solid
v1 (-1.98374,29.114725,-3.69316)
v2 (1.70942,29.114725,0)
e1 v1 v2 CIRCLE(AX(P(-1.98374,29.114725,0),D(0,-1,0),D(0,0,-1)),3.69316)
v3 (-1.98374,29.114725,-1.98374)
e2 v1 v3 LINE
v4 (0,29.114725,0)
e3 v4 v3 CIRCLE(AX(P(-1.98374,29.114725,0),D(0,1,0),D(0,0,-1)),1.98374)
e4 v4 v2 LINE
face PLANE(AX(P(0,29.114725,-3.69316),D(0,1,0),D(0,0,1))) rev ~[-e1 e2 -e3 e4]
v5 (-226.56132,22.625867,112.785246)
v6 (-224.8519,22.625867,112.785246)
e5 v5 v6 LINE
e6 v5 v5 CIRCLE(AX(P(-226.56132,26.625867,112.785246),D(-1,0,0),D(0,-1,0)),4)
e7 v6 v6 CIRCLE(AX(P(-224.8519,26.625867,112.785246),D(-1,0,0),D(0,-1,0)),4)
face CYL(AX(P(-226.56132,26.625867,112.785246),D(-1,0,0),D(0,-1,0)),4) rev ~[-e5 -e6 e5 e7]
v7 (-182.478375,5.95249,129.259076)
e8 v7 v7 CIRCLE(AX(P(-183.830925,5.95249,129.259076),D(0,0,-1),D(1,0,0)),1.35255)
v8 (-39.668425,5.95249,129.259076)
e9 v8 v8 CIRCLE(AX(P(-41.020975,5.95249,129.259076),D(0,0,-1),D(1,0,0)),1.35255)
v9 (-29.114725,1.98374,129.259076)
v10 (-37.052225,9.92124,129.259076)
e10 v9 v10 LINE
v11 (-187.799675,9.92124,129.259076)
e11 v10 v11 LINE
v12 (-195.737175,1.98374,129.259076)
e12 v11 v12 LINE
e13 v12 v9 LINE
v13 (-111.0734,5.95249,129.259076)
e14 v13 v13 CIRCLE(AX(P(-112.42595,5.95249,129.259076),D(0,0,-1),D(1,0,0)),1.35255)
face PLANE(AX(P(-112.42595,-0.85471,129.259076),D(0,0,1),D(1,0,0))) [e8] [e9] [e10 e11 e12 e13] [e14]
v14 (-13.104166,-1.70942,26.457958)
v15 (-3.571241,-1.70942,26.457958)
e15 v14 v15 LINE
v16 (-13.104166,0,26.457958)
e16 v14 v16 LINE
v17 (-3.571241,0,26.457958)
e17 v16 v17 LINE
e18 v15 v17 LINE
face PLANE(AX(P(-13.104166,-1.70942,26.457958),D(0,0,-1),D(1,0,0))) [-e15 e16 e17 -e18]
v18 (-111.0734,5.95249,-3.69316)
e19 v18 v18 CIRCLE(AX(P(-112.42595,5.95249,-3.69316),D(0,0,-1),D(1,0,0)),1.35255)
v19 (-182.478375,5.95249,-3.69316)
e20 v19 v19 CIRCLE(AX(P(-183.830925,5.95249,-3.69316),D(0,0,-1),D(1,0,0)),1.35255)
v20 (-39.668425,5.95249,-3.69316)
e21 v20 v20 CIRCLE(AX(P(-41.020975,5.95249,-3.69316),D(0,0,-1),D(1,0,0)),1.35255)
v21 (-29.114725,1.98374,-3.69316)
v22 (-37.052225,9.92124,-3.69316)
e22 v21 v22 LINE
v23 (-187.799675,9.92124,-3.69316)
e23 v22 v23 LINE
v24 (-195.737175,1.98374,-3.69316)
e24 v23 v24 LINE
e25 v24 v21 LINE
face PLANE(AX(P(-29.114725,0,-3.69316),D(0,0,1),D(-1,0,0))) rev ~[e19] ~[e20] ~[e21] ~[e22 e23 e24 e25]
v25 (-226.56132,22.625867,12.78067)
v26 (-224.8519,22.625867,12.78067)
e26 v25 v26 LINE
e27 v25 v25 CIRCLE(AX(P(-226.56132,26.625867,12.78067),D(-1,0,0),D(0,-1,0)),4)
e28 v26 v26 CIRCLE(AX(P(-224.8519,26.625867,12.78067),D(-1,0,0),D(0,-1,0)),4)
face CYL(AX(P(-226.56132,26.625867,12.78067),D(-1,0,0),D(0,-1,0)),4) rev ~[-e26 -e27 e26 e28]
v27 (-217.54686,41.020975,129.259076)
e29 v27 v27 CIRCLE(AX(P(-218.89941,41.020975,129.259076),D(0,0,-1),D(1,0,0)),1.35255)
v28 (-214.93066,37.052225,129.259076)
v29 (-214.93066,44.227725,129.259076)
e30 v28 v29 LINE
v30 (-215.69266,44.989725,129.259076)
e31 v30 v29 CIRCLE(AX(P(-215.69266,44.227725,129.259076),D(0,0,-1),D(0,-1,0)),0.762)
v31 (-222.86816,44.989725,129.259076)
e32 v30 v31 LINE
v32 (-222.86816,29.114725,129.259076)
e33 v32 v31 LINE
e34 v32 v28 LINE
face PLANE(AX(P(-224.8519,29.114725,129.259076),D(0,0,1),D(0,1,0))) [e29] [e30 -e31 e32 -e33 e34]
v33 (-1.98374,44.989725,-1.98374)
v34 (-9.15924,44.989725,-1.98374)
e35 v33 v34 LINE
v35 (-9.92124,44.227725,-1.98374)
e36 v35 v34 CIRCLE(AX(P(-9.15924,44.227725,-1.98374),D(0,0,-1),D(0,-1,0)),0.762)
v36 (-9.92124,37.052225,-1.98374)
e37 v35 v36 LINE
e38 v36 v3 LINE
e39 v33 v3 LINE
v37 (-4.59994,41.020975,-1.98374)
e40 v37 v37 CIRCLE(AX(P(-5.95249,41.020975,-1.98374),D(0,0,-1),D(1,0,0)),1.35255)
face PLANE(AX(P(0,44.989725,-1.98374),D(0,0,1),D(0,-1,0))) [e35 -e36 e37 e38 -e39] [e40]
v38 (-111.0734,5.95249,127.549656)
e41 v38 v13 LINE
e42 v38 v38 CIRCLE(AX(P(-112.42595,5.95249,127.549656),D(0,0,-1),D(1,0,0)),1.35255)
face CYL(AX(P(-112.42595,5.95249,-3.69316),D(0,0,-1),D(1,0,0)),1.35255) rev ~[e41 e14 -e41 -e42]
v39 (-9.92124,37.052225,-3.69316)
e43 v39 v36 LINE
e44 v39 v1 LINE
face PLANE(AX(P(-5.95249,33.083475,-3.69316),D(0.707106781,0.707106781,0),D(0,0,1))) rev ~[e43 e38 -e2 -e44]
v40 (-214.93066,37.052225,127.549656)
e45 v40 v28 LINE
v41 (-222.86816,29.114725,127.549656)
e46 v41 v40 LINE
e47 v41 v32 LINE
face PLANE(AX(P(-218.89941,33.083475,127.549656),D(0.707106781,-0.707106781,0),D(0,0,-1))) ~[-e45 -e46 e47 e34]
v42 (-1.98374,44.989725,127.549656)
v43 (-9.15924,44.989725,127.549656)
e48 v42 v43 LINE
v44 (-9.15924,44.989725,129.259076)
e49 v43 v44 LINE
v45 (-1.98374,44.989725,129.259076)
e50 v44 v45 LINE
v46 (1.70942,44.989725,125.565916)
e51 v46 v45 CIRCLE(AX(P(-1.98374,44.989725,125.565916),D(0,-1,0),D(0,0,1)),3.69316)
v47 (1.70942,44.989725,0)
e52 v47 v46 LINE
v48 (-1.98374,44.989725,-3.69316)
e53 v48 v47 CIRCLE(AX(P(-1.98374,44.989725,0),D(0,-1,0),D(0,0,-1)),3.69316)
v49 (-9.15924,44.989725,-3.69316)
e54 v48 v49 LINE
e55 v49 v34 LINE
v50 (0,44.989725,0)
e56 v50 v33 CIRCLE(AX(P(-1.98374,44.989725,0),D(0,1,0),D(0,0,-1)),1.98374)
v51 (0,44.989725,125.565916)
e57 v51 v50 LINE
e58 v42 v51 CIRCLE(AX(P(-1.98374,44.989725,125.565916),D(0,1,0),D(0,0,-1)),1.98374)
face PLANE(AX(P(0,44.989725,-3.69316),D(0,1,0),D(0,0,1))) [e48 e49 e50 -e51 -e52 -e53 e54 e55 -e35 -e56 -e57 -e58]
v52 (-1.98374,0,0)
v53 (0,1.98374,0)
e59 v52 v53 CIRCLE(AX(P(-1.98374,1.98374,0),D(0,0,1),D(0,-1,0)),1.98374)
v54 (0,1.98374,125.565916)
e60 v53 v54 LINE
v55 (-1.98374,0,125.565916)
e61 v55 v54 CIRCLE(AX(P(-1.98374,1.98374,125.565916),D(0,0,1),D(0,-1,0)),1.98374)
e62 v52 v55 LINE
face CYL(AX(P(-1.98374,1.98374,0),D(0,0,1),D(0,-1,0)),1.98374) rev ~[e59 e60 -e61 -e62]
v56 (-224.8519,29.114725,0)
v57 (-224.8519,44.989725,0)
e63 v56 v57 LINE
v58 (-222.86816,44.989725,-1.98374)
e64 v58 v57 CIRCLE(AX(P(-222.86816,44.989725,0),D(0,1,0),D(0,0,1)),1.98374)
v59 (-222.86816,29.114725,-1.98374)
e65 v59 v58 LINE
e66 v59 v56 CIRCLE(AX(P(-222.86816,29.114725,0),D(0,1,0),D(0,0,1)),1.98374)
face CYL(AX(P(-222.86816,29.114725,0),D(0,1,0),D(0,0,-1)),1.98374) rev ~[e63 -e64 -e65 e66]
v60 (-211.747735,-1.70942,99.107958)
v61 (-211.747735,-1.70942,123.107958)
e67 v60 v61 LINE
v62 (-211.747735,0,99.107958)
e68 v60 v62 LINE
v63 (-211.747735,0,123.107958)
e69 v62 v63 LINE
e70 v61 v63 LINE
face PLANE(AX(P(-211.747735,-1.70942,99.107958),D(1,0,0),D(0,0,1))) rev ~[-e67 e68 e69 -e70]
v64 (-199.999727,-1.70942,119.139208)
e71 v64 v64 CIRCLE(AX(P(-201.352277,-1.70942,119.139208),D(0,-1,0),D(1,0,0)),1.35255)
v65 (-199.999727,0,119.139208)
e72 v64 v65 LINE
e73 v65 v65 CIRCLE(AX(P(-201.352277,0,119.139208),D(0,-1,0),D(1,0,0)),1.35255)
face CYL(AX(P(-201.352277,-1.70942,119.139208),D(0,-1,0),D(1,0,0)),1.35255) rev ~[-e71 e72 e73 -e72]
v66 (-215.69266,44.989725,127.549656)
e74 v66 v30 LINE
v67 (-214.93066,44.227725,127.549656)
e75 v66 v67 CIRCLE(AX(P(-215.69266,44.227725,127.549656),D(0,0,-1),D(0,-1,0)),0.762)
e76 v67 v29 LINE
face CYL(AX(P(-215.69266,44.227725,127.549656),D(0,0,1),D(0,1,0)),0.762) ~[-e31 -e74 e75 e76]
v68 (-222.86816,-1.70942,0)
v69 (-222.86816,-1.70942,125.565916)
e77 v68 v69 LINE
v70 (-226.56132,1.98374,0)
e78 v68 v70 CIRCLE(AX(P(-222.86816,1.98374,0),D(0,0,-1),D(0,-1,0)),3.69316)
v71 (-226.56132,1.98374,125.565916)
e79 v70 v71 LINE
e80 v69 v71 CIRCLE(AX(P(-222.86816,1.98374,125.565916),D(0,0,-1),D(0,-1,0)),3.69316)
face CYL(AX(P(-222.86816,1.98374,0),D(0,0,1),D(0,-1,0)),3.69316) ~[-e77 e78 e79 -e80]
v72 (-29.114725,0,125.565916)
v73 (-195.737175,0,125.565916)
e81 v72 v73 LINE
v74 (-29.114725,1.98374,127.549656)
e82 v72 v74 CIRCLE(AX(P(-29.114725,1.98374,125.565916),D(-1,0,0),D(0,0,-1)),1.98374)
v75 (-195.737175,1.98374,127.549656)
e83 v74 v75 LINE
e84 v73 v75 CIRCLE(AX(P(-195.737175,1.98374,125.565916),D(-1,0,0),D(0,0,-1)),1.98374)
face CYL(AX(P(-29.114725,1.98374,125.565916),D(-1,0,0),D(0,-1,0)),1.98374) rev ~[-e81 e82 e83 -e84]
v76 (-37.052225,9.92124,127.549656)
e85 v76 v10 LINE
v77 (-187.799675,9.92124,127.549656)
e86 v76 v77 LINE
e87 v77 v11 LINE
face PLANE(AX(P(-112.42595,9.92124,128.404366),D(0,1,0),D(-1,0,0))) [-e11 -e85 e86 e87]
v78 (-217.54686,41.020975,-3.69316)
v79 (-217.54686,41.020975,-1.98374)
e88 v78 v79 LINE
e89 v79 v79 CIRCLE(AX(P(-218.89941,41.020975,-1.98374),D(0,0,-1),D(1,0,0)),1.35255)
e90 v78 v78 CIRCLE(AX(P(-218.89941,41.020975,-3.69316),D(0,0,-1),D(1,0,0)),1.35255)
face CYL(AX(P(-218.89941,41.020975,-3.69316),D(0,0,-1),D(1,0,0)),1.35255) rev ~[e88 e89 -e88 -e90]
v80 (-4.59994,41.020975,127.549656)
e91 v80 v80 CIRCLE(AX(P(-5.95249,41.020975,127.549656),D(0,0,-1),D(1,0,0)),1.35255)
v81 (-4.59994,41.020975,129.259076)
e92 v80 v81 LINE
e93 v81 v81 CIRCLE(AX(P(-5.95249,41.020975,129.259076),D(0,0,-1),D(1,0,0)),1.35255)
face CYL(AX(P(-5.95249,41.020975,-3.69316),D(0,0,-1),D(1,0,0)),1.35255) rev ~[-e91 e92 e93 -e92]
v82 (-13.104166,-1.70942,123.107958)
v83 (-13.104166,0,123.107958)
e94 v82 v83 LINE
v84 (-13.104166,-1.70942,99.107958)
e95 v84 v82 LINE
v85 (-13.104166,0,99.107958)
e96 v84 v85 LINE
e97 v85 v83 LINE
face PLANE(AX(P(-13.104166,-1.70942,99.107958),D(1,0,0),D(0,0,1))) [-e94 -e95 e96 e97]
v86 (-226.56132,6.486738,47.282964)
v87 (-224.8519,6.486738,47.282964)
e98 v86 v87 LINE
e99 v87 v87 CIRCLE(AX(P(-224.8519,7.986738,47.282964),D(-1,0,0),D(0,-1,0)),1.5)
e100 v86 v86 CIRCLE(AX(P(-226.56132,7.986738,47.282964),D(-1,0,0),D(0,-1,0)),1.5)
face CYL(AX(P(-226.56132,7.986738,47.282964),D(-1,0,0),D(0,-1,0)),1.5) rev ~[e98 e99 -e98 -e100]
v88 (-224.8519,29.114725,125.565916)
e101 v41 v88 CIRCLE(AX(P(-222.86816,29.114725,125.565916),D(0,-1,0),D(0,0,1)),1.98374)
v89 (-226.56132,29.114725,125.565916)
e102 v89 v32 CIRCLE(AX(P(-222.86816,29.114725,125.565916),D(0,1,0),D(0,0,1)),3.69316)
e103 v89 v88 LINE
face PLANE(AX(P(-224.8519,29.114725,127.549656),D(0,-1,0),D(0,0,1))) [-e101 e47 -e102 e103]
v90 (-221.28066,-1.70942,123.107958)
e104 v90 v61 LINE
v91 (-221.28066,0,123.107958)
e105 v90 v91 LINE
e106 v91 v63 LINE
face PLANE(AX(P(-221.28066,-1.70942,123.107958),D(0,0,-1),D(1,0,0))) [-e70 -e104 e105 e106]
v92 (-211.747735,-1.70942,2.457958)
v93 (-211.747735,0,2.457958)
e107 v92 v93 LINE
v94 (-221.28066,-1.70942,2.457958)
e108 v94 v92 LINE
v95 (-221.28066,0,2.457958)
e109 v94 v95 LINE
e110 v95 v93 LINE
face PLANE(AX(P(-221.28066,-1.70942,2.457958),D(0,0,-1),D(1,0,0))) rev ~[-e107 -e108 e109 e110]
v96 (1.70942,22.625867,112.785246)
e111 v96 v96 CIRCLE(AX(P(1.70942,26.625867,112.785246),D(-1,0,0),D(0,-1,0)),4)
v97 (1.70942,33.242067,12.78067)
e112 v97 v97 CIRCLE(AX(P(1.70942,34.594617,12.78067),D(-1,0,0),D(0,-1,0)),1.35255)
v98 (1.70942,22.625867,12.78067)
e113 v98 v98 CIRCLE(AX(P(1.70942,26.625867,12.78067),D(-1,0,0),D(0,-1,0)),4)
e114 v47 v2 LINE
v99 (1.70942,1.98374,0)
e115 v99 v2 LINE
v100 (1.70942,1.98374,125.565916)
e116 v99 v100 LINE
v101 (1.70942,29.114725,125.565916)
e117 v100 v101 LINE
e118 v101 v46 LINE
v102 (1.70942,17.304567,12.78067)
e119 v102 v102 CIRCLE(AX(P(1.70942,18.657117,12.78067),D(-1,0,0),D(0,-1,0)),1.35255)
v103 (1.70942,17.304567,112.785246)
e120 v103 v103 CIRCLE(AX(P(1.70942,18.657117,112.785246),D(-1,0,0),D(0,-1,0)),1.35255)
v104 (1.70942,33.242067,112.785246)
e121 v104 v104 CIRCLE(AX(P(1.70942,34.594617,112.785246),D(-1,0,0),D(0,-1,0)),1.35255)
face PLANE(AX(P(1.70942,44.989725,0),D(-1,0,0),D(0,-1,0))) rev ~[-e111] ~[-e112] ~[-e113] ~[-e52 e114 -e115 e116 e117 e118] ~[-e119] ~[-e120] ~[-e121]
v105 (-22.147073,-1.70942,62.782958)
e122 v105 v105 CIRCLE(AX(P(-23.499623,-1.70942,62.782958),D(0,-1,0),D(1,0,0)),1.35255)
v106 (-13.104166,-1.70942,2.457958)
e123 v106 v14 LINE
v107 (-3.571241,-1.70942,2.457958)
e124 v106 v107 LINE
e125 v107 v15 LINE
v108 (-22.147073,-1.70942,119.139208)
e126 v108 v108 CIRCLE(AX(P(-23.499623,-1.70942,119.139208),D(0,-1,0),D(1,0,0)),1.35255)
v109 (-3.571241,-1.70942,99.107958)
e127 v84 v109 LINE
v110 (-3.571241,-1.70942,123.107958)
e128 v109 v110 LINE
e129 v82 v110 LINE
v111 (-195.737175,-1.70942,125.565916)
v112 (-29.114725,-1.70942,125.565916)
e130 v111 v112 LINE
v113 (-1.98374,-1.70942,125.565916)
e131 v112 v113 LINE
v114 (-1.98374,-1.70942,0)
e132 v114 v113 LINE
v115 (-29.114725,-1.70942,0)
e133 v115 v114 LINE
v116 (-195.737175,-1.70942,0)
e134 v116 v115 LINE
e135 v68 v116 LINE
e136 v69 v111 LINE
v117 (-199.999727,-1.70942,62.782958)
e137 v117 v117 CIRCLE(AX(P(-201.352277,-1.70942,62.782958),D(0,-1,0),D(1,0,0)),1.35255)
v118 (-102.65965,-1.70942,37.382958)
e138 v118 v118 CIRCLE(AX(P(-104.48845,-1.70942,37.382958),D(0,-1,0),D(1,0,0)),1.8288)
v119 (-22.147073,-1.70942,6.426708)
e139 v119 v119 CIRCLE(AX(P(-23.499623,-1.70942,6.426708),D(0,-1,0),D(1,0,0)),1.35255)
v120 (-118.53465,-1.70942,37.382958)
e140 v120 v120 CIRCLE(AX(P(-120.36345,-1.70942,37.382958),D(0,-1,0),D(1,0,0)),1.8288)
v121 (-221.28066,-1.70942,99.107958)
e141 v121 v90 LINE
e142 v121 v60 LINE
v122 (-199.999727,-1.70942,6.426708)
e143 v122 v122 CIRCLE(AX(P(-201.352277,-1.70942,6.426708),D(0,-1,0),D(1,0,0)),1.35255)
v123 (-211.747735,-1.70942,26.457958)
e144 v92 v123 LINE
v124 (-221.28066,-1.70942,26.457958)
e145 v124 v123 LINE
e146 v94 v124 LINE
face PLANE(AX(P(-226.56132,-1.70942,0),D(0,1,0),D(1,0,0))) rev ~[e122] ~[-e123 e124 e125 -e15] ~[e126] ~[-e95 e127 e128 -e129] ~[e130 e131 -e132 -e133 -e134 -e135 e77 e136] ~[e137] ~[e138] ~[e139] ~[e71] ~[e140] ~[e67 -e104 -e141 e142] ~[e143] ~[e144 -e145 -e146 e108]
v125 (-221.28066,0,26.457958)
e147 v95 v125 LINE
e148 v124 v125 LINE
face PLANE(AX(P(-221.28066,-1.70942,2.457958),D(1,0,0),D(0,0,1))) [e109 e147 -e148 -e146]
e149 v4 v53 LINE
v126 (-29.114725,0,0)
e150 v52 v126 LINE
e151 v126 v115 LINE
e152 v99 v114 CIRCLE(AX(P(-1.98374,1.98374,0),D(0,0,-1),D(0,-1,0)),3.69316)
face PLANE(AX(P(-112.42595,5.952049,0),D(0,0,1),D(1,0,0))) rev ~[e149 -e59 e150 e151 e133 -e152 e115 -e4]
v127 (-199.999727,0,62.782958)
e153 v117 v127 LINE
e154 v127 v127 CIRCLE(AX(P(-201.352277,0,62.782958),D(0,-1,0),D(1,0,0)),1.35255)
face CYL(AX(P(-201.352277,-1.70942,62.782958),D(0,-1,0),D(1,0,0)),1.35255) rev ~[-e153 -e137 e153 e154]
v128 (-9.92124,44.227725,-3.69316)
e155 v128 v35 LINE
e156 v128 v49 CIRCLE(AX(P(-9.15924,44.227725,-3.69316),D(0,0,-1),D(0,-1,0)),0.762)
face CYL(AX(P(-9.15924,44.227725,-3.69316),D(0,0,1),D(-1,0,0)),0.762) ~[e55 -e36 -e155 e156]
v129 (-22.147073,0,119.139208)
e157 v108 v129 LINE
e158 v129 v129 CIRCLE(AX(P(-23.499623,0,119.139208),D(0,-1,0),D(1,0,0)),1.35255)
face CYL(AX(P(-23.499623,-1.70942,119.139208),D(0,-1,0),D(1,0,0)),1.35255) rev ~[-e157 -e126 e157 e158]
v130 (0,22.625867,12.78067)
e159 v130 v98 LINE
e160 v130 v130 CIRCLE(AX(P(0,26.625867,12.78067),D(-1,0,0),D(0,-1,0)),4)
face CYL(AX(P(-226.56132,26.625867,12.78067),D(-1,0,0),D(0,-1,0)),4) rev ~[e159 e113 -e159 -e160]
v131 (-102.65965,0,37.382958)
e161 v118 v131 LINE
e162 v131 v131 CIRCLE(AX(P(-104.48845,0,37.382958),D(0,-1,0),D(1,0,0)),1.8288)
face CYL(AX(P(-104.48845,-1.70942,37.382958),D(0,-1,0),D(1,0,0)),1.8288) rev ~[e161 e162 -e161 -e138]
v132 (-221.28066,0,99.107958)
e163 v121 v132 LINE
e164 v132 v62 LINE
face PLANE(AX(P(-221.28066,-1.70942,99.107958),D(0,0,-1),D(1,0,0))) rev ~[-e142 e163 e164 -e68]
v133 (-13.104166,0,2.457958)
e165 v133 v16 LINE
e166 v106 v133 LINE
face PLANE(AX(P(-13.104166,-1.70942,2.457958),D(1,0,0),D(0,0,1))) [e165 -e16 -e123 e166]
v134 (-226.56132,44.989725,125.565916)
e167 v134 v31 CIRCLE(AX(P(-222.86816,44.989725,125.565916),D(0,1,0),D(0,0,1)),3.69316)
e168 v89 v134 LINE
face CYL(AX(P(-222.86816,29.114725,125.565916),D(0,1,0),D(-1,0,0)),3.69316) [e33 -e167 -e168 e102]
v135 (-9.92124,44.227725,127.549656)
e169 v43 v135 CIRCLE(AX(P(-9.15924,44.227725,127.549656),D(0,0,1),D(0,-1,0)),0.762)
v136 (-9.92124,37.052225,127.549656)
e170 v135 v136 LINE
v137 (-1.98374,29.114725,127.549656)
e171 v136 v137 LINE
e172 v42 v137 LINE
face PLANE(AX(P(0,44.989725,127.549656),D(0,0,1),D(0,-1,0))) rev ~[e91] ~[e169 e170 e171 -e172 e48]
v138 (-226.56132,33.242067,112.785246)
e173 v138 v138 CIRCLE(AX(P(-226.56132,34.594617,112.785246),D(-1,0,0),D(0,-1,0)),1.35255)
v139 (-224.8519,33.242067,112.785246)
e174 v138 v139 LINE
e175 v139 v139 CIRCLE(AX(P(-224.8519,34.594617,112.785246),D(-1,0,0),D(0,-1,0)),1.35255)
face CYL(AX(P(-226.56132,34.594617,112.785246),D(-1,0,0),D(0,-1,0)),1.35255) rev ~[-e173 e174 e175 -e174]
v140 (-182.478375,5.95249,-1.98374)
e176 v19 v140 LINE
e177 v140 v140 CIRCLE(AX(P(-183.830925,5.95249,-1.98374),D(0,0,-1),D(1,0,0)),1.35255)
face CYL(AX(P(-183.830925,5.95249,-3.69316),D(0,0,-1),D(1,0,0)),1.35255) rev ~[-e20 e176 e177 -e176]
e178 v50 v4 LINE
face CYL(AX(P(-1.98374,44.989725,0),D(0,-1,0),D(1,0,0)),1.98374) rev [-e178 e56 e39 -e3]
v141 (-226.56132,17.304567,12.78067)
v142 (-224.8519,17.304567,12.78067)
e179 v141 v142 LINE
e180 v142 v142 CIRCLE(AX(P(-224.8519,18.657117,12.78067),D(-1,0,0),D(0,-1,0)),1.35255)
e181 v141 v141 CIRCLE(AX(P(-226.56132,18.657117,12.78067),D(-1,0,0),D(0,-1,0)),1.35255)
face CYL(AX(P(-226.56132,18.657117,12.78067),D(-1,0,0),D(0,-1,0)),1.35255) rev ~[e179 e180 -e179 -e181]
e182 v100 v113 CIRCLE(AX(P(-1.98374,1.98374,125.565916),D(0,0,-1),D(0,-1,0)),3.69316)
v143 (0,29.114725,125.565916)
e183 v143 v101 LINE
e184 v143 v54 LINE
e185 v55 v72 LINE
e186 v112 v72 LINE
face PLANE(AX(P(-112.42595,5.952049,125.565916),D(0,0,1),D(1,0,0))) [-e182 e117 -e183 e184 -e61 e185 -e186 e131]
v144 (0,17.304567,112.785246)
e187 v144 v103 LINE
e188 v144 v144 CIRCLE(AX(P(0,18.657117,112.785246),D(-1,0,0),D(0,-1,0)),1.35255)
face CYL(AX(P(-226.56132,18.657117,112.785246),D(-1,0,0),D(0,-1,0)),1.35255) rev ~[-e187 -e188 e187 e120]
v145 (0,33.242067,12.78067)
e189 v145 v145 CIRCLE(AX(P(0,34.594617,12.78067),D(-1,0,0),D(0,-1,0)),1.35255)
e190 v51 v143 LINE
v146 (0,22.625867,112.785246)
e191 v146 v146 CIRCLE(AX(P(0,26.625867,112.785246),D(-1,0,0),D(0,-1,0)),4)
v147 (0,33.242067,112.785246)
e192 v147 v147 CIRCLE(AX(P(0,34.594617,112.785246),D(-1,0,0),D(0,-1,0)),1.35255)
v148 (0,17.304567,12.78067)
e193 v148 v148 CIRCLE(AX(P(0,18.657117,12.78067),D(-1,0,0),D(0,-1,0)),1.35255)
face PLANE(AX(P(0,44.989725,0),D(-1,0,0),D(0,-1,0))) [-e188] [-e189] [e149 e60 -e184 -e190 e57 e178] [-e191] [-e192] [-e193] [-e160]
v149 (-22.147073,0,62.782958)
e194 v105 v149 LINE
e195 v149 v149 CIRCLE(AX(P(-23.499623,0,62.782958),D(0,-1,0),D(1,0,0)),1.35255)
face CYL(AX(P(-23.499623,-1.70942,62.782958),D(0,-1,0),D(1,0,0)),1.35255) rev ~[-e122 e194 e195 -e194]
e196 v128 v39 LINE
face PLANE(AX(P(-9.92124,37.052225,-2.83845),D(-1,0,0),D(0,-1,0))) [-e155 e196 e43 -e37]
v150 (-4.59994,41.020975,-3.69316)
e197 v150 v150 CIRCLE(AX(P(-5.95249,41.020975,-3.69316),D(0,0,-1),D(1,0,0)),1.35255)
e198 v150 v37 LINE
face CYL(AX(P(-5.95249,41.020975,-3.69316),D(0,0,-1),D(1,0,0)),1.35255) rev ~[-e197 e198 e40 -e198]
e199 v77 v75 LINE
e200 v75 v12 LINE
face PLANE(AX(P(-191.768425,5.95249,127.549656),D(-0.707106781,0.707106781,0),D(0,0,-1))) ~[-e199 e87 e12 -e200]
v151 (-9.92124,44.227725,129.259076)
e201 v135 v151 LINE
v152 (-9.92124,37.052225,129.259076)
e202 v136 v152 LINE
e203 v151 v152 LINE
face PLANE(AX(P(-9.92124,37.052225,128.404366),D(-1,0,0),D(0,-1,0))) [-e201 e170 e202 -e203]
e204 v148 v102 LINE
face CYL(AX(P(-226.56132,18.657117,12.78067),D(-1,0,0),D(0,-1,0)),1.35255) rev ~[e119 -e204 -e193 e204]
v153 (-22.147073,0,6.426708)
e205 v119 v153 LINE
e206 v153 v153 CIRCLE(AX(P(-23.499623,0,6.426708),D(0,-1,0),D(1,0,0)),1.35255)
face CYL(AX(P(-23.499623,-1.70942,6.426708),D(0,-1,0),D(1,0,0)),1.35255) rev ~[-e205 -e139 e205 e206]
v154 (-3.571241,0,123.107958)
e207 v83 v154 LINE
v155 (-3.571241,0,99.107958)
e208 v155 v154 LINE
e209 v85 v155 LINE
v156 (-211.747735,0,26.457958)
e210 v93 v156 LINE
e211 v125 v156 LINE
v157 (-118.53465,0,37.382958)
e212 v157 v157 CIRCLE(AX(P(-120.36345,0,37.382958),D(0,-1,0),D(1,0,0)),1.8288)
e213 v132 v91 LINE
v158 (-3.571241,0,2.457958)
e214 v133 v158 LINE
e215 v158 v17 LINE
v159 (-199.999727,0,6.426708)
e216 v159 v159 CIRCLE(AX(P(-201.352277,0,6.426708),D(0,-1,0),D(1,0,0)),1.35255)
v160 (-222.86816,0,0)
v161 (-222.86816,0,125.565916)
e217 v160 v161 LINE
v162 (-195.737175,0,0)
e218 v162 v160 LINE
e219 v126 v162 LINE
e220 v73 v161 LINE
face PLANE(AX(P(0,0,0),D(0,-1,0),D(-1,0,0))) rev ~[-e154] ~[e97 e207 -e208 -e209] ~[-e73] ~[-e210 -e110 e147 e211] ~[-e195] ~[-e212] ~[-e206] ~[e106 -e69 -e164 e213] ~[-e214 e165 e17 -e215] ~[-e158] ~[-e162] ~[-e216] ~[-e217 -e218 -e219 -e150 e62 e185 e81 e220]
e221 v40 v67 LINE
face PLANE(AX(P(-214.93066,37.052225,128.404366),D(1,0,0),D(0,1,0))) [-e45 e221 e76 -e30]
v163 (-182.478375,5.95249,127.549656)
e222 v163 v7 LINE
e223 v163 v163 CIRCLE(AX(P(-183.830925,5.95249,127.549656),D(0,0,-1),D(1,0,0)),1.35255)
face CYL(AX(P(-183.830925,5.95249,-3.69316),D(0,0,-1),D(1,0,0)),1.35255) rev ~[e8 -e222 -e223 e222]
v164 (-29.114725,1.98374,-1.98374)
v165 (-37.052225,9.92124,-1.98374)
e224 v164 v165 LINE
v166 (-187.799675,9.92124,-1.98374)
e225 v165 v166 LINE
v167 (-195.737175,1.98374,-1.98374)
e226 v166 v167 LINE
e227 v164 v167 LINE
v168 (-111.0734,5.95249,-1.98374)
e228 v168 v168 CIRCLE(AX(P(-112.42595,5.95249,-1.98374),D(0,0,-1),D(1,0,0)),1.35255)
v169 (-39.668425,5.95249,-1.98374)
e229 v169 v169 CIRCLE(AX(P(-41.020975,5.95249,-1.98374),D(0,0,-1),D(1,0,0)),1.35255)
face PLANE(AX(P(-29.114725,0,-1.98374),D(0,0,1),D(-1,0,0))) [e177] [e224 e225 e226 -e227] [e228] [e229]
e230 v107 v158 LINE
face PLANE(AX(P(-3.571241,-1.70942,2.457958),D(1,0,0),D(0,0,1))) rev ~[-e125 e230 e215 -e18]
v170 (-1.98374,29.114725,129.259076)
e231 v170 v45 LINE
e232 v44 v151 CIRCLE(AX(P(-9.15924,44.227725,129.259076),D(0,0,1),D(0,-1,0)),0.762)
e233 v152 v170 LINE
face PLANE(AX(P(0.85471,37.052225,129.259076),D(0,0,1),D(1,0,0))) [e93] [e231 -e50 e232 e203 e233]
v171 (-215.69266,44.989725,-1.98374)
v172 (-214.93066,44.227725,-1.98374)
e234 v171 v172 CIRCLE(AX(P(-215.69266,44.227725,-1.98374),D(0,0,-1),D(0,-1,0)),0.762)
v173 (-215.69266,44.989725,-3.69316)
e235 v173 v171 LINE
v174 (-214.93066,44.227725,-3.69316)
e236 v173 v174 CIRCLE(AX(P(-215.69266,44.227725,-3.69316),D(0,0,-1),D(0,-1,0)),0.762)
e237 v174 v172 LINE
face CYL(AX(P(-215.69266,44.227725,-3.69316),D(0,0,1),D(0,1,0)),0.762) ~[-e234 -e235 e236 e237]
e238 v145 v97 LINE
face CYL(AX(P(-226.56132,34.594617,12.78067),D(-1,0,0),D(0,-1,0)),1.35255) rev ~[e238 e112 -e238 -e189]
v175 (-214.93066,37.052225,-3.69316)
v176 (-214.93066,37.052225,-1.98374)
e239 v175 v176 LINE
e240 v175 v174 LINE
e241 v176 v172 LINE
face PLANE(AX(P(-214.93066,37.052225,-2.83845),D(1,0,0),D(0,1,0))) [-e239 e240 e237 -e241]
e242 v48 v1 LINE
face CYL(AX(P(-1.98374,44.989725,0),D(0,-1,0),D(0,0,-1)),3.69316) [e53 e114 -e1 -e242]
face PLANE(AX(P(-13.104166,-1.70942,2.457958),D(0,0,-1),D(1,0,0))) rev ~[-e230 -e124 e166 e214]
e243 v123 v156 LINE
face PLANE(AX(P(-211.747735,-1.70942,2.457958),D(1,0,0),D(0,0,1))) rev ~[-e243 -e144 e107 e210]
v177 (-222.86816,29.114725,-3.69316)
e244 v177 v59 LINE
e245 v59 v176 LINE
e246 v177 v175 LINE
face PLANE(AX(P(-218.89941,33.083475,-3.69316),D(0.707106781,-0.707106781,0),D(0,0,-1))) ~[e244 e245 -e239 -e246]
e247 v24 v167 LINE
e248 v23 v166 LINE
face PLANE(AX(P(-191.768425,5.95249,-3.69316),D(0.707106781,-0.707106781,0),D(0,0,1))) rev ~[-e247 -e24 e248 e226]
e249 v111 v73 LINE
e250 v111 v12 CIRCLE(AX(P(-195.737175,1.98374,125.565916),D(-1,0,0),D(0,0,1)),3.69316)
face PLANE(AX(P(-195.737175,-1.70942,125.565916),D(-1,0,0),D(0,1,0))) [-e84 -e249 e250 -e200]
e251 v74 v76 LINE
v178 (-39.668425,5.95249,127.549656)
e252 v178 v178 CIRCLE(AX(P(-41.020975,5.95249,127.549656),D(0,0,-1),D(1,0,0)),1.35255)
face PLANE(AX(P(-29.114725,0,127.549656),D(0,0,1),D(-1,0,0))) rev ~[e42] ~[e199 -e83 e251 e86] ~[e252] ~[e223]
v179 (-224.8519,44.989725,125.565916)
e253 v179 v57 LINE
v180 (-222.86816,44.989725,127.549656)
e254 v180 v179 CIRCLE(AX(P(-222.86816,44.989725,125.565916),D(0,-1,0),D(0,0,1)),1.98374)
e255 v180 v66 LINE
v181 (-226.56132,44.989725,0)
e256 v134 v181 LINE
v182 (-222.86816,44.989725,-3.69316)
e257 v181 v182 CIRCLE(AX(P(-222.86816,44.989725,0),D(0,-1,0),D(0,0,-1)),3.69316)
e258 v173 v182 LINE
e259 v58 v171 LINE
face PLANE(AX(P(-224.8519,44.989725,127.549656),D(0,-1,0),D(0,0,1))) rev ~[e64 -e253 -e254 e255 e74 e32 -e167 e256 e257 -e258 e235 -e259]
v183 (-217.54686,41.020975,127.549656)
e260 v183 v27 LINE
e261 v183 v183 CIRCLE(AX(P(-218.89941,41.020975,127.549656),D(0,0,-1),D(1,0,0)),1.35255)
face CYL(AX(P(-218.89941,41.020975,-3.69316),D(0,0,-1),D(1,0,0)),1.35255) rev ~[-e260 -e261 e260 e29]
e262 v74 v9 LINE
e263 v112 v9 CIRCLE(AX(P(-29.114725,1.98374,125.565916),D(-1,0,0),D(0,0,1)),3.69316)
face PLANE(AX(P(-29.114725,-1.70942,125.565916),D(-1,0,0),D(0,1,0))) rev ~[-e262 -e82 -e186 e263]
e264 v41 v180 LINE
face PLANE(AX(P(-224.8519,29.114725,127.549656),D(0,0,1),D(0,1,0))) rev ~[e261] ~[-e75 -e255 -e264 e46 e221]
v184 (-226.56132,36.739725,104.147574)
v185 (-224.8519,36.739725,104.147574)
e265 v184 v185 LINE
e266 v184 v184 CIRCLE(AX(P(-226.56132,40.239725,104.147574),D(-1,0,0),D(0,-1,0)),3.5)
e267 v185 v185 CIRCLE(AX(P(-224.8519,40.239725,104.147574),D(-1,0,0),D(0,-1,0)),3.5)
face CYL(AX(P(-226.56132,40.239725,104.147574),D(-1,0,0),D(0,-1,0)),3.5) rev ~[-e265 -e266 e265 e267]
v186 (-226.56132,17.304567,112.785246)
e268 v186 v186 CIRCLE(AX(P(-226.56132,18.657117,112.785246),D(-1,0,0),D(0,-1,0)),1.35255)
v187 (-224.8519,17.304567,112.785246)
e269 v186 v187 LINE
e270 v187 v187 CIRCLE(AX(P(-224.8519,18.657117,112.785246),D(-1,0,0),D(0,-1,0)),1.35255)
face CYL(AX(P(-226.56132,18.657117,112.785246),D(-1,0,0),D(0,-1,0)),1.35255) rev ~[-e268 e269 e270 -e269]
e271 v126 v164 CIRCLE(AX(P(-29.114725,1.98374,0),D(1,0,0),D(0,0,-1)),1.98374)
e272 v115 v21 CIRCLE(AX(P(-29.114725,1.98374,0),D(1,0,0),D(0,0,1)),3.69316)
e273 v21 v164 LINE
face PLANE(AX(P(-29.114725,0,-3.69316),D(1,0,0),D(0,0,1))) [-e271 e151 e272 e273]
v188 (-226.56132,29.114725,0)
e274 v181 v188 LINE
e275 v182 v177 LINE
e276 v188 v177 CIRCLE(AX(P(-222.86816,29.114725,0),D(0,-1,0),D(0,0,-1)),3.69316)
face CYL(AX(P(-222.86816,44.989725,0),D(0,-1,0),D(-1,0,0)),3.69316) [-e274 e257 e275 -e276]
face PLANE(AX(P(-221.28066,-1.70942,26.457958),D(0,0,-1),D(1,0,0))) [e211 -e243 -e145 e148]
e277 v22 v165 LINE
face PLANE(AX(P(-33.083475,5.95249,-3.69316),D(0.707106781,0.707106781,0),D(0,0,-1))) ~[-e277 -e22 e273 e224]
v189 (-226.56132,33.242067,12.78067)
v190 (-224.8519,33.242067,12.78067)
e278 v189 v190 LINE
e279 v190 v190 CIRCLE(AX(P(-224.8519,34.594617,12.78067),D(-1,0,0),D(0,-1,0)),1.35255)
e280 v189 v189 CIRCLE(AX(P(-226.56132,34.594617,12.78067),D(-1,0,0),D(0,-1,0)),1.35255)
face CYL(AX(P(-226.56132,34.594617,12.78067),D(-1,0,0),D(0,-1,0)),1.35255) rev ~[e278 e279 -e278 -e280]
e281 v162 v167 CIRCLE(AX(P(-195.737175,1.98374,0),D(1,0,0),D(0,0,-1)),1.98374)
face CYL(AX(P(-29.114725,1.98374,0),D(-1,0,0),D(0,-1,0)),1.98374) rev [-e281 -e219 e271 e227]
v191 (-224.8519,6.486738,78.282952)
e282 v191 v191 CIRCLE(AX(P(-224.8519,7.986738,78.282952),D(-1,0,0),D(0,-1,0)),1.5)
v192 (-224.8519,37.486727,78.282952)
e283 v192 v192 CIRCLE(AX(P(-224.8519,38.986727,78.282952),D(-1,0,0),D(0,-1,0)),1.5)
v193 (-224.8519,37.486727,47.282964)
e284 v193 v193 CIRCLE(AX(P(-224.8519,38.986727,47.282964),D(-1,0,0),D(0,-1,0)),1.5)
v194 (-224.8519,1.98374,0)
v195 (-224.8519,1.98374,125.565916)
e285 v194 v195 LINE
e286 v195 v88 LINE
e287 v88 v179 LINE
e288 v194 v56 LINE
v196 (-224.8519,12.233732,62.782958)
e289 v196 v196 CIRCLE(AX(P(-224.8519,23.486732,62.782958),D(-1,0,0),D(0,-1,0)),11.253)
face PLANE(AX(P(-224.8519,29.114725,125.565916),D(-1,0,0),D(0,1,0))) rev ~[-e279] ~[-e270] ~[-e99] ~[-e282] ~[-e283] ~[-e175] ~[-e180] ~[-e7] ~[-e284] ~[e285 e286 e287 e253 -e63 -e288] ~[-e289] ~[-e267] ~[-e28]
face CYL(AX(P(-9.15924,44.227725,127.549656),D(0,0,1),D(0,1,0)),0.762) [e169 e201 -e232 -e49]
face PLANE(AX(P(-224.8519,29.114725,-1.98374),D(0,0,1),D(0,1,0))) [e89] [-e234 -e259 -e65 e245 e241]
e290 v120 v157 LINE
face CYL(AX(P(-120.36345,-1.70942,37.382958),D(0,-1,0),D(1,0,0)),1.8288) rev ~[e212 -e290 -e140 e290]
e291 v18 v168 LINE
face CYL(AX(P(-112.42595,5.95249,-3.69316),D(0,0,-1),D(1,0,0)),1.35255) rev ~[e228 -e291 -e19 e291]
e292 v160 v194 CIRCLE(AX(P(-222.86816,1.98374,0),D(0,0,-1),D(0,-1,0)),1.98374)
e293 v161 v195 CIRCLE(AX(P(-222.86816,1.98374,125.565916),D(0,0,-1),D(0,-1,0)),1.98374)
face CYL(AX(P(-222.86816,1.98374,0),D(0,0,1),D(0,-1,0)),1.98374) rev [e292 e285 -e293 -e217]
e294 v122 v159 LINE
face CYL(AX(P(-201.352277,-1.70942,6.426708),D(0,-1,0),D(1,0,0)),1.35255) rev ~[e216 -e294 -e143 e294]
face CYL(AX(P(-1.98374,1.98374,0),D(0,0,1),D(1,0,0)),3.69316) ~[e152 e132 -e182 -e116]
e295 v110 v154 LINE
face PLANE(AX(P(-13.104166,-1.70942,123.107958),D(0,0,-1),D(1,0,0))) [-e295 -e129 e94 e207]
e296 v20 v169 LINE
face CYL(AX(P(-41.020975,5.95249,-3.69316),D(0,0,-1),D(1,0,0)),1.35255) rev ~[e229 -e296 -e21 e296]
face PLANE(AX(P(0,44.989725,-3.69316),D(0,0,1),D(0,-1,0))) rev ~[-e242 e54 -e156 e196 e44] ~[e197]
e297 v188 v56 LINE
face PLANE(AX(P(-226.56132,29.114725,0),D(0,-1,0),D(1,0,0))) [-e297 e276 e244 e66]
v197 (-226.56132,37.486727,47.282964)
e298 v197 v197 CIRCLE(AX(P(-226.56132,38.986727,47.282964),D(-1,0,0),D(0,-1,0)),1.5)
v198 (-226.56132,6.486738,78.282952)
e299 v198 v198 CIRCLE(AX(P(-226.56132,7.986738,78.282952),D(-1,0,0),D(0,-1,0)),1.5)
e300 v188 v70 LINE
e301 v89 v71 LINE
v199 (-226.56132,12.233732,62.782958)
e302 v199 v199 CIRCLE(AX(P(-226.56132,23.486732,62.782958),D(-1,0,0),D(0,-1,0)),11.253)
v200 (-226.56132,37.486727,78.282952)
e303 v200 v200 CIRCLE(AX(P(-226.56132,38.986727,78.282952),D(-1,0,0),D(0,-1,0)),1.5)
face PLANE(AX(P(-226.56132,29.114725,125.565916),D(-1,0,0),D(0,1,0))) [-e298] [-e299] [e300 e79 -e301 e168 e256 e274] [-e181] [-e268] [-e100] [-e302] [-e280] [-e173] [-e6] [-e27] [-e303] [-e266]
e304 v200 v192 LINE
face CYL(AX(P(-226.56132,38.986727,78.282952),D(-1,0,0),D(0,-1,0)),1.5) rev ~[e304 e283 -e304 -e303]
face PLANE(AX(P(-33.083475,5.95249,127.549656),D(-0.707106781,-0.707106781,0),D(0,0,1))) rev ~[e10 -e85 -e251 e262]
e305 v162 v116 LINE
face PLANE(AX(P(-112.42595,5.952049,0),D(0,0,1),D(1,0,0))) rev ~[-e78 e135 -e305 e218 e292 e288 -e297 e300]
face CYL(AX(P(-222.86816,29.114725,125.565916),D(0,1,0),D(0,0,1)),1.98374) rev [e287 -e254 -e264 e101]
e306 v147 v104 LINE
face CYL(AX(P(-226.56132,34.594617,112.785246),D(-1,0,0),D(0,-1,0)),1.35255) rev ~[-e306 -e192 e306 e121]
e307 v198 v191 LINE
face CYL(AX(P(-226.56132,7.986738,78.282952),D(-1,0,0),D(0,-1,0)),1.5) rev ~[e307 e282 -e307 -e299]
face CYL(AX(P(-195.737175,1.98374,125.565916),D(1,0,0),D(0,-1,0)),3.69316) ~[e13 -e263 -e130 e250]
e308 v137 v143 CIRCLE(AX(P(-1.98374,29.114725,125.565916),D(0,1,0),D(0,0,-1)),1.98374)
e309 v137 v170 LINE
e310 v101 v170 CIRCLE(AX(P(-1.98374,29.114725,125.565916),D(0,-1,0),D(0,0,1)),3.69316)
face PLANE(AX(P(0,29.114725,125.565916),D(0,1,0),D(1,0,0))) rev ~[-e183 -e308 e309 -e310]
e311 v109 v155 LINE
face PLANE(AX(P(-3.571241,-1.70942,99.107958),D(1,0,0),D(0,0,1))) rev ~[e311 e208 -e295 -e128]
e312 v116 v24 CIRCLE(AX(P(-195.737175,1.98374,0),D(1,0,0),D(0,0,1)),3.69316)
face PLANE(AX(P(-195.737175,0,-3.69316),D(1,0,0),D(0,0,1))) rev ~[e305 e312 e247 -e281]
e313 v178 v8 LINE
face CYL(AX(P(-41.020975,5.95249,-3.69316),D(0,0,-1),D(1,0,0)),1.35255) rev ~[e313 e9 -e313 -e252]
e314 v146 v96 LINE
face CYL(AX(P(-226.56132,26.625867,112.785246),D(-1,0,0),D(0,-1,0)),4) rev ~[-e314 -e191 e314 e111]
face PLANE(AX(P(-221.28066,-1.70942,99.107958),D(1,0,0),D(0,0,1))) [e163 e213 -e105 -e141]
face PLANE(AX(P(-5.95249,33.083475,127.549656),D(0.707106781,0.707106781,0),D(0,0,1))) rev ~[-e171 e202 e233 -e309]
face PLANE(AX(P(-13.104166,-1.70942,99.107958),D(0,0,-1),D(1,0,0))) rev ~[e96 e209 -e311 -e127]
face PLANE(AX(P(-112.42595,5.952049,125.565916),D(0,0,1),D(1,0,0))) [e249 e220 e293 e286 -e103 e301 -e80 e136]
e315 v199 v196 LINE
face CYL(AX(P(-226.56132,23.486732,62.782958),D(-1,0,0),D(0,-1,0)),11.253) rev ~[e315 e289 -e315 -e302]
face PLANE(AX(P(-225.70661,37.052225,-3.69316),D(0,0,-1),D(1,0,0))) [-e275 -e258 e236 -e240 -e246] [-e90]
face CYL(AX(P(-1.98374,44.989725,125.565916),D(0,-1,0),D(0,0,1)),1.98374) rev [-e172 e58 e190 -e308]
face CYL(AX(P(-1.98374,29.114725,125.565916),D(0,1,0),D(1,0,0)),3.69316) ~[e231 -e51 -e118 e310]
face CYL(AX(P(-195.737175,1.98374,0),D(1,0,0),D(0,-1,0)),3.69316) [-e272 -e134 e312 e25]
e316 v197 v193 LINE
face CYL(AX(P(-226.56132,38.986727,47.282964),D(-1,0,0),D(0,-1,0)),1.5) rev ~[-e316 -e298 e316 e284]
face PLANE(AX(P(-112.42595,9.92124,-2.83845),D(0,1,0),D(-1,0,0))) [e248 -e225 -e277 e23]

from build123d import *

# Parameters (mm, degrees)
F1_DEPTH  = 125.565916
F2_W      = 1.70942
F2_H      = 15.875
F2_W_2    = 166.62245
F2_H_2    = 1.70942
F3_DEPTH  = 3.69316
F4_W      = 1.70942
F4_H      = 15.875
F4_W_2    = 166.62245
F4_H_2    = 1.70942
F5_DEPTH  = 3.69316
F6_W      = 166.62245
F6_H      = 1.70942
F7_DEPTH  = 9.92124
F8_W      = 15.875
F8_H      = 1.70942
F9_DEPTH  = 9.92124
F10_W     = 15.875
F10_H     = 1.70942
F11_DEPTH = 9.92124
F12_R     = 1.98374
F13_R     = 3.69316
F14_SIZE  = 7.9375
F15_R     = 1.35255
F16_DEPTH = 132.952236
F17_W     = 9.532925
F17_H     = 24
F17_R     = 1.35255
F17_R_2   = 1.8288
F18_DEPTH = 1.70942
F19_R     = 1.35255
F19_R_2   = 4
F20_DEPTH = 228.27074
F21_R     = 0.762
F22_R     = 11.253
F22_R_2   = 1.5
F22_R_3   = 3.5
F23_DEPTH = 1.70942


with BuildPart() as f1:
    # F0 (on Top) → F1 (new body)
    with BuildSketch(Plane.XY):
        Polygon((0, 44.989725), (0, 0), (-224.8519, 0), (-224.8519, 44.989725), (-226.56132, 44.989725), (-226.56132, -1.70942), (1.70942, -1.70942), (1.70942, 44.989725), align=None)
    extrude(amount=F1_DEPTH)

    # F2 (on face) → F3 (join)
    with BuildSketch(Plane(origin=(0, 0, 0), x_dir=(1, 0, 0), z_dir=(0, 0, -1))):
        with Locations((0.85471, -37.052225)):
            Rectangle(F2_W, F2_H)
        with Locations((-112.42595, 0.85471)):
            Rectangle(F2_W_2, F2_H_2)
        with Locations((-225.70661, -37.052225)):
            Rectangle(F2_W, F2_H)
    extrude(amount=F3_DEPTH)

    # F4 (on face) → F5 (join)
    with BuildSketch(Plane.XY.offset(125.565916)):
        with Locations((-225.70661, 37.052225)):
            Rectangle(F4_W, F4_H)
        with Locations((0.85471, 37.052225)):
            Rectangle(F4_W, F4_H)
        with Locations((-112.42595, -0.85471)):
            Rectangle(F4_W_2, F4_H_2)
    extrude(amount=F5_DEPTH)

    # F6 (on face) → F7 (join)
    with BuildSketch(Plane(origin=(0, 0, 0), x_dir=(-1, 0, 0), z_dir=(0, 1, 0))):
        with Locations((112.42595, -2.83845)):
            Rectangle(F6_W, F6_H)
        with Locations((112.42595, 128.404366)):
            Rectangle(F6_W, F6_H)
    extrude(amount=F7_DEPTH)

    # F8 (on face) → F9 (join)
    with BuildSketch(Plane.YZ.offset(-224.8519)):
        with Locations((37.052225, 128.404366)):
            Rectangle(F8_W, F8_H)
        with Locations((37.052225, -2.83845)):
            Rectangle(F8_W, F8_H)
    extrude(amount=F9_DEPTH)

    # F10 (on face) → F11 (join)
    with BuildSketch(Plane(origin=(0, 0, 0), x_dir=(0, -1, 0), z_dir=(-1, 0, 0))):
        with Locations((-37.052225, -2.83845)):
            Rectangle(F10_W, F10_H)
        with Locations((-37.052225, 128.404366)):
            Rectangle(F10_W, F10_H)
    extrude(amount=F11_DEPTH)

    # F12
    f12_edges = [f1.edges().sort_by_distance(p)[0] for p in [
        (0, 37.052225, 127.549656),
        (-112.42595, 0, 127.549656),
        (-224.8519, 37.052225, 127.549656),
        (-224.8519, 37.052225, -1.98374),
        (-112.42595, 0, -1.98374),
        (0, 37.052225, -1.98374),
        (0, 0, 62.782958),
        (-224.8519, 0, 62.782958),
    ]]
    fillet(f12_edges, radius=F12_R)

    # F13
    f13_edges = [f1.edges().sort_by_distance(p)[0] for p in [
        (-226.56132, 37.052225, -3.69316),
        (-112.42595, -1.70942, -3.69316),
        (-226.56132, -1.70942, 62.782958),
        (-112.42595, -1.70942, 129.259076),
        (-226.56132, 37.052225, 129.259076),
        (1.70942, 37.052225, -3.69316),
        (1.70942, -1.70942, 62.782958),
        (1.70942, 37.052225, 129.259076),
    ]]
    fillet(f13_edges, radius=F13_R)

    # F14
    f14_edges = [f1.edges().sort_by_distance(p)[0] for p in [
        (-214.93066, 29.114725, 128.404366),
        (-195.737175, 9.92124, 128.404366),
        (-29.114725, 9.92124, 128.404366),
        (-9.92124, 29.114725, 128.404366),
        (-29.114725, 9.92124, -2.83845),
        (-9.92124, 29.114725, -2.83845),
        (-214.93066, 29.114725, -2.83845),
        (-195.737175, 9.92124, -2.83845),
    ]]
    chamfer(f14_edges, length=F14_SIZE)

    # F15 (on face) → F16 (cut, through all)
    with BuildSketch(Plane(origin=(0, 0, -3.69316), x_dir=(1, 0, 0), z_dir=(0, 0, -1))):
        with Locations((-41.020975, -5.95249)):
            Circle(F15_R)
        with Locations((-112.42595, -5.95249)):
            Circle(F15_R)
        with Locations((-183.830925, -5.95249)):
            Circle(F15_R)
        with Locations((-218.89941, -41.020975)):
            Circle(F15_R)
        with Locations((-5.95249, -41.020975)):
            Circle(F15_R)
    extrude(amount=-F16_DEPTH, mode=Mode.SUBTRACT)

    # F17 (on face) → F18 (cut, through all)
    with BuildSketch(Plane.XZ.offset(1.70942)):
        with Locations((-216.514197, 14.457958)):
            Rectangle(F17_W, F17_H)
        with Locations((-216.514197, 111.107958)):
            Rectangle(F17_W, F17_H)
        with Locations((-8.337703, 111.107958)):
            Rectangle(F17_W, F17_H)
        with Locations((-8.337703, 14.457958)):
            Rectangle(F17_W, F17_H)
        with Locations((-23.499623, 119.139208)):
            Circle(F17_R)
        with Locations((-23.499623, 6.426708)):
            Circle(F17_R)
        with Locations((-201.352277, 6.426708)):
            Circle(F17_R)
        with Locations((-201.352277, 119.139208)):
            Circle(F17_R)
        with Locations((-23.499623, 62.782958)):
            Circle(F17_R)
        with Locations((-201.352277, 62.782958)):
            Circle(F17_R)
        with Locations((-120.36345, 37.382958)):
            Circle(F17_R_2)
        with Locations((-104.48845, 37.382958)):
            Circle(F17_R_2)
    extrude(amount=-F18_DEPTH, mode=Mode.SUBTRACT)

    # F19 (on face) → F20 (cut, through all)
    with BuildSketch(Plane(origin=(-226.56132, 0, 0), x_dir=(0, -1, 0), z_dir=(-1, 0, 0))):
        with Locations((-34.594617, 12.78067)):
            Circle(F19_R)
        with Locations((-18.657117, 12.78067)):
            Circle(F19_R)
        with Locations((-18.657117, 112.785246)):
            Circle(F19_R)
        with Locations((-34.594617, 112.785246)):
            Circle(F19_R)
        with Locations((-26.625867, 112.785246)):
            Circle(F19_R_2)
        with Locations((-26.625867, 12.78067)):
            Circle(F19_R_2)
    extrude(amount=-F20_DEPTH, mode=Mode.SUBTRACT)

    # F21
    f21_edges = [f1.edges().sort_by_distance(p)[0] for p in [
        (-214.93066, 44.989725, -2.83845),
        (-214.93066, 44.989725, 128.404366),
        (-9.92124, 44.989725, 128.404366),
        (-9.92124, 44.989725, -2.83845),
    ]]
    fillet(f21_edges, radius=F21_R)

    # F22 (on face) → F23 (cut, through all)
    with BuildSketch(Plane(origin=(-226.56132, 0, 0), x_dir=(0, -1, 0), z_dir=(-1, 0, 0))):
        with Locations((-23.486732, 62.782958)):
            Circle(F22_R)
        with Locations((-38.986727, 78.282952)):
            Circle(F22_R_2)
        with Locations((-7.986738, 78.282952)):
            Circle(F22_R_2)
        with Locations((-7.986738, 47.282964)):
            Circle(F22_R_2)
        with Locations((-38.986727, 47.282964)):
            Circle(F22_R_2)
        with Locations((-40.239725, 104.147574)):
            Circle(F22_R_3)
    extrude(amount=-F23_DEPTH, mode=Mode.SUBTRACT)


solid = f1.part
